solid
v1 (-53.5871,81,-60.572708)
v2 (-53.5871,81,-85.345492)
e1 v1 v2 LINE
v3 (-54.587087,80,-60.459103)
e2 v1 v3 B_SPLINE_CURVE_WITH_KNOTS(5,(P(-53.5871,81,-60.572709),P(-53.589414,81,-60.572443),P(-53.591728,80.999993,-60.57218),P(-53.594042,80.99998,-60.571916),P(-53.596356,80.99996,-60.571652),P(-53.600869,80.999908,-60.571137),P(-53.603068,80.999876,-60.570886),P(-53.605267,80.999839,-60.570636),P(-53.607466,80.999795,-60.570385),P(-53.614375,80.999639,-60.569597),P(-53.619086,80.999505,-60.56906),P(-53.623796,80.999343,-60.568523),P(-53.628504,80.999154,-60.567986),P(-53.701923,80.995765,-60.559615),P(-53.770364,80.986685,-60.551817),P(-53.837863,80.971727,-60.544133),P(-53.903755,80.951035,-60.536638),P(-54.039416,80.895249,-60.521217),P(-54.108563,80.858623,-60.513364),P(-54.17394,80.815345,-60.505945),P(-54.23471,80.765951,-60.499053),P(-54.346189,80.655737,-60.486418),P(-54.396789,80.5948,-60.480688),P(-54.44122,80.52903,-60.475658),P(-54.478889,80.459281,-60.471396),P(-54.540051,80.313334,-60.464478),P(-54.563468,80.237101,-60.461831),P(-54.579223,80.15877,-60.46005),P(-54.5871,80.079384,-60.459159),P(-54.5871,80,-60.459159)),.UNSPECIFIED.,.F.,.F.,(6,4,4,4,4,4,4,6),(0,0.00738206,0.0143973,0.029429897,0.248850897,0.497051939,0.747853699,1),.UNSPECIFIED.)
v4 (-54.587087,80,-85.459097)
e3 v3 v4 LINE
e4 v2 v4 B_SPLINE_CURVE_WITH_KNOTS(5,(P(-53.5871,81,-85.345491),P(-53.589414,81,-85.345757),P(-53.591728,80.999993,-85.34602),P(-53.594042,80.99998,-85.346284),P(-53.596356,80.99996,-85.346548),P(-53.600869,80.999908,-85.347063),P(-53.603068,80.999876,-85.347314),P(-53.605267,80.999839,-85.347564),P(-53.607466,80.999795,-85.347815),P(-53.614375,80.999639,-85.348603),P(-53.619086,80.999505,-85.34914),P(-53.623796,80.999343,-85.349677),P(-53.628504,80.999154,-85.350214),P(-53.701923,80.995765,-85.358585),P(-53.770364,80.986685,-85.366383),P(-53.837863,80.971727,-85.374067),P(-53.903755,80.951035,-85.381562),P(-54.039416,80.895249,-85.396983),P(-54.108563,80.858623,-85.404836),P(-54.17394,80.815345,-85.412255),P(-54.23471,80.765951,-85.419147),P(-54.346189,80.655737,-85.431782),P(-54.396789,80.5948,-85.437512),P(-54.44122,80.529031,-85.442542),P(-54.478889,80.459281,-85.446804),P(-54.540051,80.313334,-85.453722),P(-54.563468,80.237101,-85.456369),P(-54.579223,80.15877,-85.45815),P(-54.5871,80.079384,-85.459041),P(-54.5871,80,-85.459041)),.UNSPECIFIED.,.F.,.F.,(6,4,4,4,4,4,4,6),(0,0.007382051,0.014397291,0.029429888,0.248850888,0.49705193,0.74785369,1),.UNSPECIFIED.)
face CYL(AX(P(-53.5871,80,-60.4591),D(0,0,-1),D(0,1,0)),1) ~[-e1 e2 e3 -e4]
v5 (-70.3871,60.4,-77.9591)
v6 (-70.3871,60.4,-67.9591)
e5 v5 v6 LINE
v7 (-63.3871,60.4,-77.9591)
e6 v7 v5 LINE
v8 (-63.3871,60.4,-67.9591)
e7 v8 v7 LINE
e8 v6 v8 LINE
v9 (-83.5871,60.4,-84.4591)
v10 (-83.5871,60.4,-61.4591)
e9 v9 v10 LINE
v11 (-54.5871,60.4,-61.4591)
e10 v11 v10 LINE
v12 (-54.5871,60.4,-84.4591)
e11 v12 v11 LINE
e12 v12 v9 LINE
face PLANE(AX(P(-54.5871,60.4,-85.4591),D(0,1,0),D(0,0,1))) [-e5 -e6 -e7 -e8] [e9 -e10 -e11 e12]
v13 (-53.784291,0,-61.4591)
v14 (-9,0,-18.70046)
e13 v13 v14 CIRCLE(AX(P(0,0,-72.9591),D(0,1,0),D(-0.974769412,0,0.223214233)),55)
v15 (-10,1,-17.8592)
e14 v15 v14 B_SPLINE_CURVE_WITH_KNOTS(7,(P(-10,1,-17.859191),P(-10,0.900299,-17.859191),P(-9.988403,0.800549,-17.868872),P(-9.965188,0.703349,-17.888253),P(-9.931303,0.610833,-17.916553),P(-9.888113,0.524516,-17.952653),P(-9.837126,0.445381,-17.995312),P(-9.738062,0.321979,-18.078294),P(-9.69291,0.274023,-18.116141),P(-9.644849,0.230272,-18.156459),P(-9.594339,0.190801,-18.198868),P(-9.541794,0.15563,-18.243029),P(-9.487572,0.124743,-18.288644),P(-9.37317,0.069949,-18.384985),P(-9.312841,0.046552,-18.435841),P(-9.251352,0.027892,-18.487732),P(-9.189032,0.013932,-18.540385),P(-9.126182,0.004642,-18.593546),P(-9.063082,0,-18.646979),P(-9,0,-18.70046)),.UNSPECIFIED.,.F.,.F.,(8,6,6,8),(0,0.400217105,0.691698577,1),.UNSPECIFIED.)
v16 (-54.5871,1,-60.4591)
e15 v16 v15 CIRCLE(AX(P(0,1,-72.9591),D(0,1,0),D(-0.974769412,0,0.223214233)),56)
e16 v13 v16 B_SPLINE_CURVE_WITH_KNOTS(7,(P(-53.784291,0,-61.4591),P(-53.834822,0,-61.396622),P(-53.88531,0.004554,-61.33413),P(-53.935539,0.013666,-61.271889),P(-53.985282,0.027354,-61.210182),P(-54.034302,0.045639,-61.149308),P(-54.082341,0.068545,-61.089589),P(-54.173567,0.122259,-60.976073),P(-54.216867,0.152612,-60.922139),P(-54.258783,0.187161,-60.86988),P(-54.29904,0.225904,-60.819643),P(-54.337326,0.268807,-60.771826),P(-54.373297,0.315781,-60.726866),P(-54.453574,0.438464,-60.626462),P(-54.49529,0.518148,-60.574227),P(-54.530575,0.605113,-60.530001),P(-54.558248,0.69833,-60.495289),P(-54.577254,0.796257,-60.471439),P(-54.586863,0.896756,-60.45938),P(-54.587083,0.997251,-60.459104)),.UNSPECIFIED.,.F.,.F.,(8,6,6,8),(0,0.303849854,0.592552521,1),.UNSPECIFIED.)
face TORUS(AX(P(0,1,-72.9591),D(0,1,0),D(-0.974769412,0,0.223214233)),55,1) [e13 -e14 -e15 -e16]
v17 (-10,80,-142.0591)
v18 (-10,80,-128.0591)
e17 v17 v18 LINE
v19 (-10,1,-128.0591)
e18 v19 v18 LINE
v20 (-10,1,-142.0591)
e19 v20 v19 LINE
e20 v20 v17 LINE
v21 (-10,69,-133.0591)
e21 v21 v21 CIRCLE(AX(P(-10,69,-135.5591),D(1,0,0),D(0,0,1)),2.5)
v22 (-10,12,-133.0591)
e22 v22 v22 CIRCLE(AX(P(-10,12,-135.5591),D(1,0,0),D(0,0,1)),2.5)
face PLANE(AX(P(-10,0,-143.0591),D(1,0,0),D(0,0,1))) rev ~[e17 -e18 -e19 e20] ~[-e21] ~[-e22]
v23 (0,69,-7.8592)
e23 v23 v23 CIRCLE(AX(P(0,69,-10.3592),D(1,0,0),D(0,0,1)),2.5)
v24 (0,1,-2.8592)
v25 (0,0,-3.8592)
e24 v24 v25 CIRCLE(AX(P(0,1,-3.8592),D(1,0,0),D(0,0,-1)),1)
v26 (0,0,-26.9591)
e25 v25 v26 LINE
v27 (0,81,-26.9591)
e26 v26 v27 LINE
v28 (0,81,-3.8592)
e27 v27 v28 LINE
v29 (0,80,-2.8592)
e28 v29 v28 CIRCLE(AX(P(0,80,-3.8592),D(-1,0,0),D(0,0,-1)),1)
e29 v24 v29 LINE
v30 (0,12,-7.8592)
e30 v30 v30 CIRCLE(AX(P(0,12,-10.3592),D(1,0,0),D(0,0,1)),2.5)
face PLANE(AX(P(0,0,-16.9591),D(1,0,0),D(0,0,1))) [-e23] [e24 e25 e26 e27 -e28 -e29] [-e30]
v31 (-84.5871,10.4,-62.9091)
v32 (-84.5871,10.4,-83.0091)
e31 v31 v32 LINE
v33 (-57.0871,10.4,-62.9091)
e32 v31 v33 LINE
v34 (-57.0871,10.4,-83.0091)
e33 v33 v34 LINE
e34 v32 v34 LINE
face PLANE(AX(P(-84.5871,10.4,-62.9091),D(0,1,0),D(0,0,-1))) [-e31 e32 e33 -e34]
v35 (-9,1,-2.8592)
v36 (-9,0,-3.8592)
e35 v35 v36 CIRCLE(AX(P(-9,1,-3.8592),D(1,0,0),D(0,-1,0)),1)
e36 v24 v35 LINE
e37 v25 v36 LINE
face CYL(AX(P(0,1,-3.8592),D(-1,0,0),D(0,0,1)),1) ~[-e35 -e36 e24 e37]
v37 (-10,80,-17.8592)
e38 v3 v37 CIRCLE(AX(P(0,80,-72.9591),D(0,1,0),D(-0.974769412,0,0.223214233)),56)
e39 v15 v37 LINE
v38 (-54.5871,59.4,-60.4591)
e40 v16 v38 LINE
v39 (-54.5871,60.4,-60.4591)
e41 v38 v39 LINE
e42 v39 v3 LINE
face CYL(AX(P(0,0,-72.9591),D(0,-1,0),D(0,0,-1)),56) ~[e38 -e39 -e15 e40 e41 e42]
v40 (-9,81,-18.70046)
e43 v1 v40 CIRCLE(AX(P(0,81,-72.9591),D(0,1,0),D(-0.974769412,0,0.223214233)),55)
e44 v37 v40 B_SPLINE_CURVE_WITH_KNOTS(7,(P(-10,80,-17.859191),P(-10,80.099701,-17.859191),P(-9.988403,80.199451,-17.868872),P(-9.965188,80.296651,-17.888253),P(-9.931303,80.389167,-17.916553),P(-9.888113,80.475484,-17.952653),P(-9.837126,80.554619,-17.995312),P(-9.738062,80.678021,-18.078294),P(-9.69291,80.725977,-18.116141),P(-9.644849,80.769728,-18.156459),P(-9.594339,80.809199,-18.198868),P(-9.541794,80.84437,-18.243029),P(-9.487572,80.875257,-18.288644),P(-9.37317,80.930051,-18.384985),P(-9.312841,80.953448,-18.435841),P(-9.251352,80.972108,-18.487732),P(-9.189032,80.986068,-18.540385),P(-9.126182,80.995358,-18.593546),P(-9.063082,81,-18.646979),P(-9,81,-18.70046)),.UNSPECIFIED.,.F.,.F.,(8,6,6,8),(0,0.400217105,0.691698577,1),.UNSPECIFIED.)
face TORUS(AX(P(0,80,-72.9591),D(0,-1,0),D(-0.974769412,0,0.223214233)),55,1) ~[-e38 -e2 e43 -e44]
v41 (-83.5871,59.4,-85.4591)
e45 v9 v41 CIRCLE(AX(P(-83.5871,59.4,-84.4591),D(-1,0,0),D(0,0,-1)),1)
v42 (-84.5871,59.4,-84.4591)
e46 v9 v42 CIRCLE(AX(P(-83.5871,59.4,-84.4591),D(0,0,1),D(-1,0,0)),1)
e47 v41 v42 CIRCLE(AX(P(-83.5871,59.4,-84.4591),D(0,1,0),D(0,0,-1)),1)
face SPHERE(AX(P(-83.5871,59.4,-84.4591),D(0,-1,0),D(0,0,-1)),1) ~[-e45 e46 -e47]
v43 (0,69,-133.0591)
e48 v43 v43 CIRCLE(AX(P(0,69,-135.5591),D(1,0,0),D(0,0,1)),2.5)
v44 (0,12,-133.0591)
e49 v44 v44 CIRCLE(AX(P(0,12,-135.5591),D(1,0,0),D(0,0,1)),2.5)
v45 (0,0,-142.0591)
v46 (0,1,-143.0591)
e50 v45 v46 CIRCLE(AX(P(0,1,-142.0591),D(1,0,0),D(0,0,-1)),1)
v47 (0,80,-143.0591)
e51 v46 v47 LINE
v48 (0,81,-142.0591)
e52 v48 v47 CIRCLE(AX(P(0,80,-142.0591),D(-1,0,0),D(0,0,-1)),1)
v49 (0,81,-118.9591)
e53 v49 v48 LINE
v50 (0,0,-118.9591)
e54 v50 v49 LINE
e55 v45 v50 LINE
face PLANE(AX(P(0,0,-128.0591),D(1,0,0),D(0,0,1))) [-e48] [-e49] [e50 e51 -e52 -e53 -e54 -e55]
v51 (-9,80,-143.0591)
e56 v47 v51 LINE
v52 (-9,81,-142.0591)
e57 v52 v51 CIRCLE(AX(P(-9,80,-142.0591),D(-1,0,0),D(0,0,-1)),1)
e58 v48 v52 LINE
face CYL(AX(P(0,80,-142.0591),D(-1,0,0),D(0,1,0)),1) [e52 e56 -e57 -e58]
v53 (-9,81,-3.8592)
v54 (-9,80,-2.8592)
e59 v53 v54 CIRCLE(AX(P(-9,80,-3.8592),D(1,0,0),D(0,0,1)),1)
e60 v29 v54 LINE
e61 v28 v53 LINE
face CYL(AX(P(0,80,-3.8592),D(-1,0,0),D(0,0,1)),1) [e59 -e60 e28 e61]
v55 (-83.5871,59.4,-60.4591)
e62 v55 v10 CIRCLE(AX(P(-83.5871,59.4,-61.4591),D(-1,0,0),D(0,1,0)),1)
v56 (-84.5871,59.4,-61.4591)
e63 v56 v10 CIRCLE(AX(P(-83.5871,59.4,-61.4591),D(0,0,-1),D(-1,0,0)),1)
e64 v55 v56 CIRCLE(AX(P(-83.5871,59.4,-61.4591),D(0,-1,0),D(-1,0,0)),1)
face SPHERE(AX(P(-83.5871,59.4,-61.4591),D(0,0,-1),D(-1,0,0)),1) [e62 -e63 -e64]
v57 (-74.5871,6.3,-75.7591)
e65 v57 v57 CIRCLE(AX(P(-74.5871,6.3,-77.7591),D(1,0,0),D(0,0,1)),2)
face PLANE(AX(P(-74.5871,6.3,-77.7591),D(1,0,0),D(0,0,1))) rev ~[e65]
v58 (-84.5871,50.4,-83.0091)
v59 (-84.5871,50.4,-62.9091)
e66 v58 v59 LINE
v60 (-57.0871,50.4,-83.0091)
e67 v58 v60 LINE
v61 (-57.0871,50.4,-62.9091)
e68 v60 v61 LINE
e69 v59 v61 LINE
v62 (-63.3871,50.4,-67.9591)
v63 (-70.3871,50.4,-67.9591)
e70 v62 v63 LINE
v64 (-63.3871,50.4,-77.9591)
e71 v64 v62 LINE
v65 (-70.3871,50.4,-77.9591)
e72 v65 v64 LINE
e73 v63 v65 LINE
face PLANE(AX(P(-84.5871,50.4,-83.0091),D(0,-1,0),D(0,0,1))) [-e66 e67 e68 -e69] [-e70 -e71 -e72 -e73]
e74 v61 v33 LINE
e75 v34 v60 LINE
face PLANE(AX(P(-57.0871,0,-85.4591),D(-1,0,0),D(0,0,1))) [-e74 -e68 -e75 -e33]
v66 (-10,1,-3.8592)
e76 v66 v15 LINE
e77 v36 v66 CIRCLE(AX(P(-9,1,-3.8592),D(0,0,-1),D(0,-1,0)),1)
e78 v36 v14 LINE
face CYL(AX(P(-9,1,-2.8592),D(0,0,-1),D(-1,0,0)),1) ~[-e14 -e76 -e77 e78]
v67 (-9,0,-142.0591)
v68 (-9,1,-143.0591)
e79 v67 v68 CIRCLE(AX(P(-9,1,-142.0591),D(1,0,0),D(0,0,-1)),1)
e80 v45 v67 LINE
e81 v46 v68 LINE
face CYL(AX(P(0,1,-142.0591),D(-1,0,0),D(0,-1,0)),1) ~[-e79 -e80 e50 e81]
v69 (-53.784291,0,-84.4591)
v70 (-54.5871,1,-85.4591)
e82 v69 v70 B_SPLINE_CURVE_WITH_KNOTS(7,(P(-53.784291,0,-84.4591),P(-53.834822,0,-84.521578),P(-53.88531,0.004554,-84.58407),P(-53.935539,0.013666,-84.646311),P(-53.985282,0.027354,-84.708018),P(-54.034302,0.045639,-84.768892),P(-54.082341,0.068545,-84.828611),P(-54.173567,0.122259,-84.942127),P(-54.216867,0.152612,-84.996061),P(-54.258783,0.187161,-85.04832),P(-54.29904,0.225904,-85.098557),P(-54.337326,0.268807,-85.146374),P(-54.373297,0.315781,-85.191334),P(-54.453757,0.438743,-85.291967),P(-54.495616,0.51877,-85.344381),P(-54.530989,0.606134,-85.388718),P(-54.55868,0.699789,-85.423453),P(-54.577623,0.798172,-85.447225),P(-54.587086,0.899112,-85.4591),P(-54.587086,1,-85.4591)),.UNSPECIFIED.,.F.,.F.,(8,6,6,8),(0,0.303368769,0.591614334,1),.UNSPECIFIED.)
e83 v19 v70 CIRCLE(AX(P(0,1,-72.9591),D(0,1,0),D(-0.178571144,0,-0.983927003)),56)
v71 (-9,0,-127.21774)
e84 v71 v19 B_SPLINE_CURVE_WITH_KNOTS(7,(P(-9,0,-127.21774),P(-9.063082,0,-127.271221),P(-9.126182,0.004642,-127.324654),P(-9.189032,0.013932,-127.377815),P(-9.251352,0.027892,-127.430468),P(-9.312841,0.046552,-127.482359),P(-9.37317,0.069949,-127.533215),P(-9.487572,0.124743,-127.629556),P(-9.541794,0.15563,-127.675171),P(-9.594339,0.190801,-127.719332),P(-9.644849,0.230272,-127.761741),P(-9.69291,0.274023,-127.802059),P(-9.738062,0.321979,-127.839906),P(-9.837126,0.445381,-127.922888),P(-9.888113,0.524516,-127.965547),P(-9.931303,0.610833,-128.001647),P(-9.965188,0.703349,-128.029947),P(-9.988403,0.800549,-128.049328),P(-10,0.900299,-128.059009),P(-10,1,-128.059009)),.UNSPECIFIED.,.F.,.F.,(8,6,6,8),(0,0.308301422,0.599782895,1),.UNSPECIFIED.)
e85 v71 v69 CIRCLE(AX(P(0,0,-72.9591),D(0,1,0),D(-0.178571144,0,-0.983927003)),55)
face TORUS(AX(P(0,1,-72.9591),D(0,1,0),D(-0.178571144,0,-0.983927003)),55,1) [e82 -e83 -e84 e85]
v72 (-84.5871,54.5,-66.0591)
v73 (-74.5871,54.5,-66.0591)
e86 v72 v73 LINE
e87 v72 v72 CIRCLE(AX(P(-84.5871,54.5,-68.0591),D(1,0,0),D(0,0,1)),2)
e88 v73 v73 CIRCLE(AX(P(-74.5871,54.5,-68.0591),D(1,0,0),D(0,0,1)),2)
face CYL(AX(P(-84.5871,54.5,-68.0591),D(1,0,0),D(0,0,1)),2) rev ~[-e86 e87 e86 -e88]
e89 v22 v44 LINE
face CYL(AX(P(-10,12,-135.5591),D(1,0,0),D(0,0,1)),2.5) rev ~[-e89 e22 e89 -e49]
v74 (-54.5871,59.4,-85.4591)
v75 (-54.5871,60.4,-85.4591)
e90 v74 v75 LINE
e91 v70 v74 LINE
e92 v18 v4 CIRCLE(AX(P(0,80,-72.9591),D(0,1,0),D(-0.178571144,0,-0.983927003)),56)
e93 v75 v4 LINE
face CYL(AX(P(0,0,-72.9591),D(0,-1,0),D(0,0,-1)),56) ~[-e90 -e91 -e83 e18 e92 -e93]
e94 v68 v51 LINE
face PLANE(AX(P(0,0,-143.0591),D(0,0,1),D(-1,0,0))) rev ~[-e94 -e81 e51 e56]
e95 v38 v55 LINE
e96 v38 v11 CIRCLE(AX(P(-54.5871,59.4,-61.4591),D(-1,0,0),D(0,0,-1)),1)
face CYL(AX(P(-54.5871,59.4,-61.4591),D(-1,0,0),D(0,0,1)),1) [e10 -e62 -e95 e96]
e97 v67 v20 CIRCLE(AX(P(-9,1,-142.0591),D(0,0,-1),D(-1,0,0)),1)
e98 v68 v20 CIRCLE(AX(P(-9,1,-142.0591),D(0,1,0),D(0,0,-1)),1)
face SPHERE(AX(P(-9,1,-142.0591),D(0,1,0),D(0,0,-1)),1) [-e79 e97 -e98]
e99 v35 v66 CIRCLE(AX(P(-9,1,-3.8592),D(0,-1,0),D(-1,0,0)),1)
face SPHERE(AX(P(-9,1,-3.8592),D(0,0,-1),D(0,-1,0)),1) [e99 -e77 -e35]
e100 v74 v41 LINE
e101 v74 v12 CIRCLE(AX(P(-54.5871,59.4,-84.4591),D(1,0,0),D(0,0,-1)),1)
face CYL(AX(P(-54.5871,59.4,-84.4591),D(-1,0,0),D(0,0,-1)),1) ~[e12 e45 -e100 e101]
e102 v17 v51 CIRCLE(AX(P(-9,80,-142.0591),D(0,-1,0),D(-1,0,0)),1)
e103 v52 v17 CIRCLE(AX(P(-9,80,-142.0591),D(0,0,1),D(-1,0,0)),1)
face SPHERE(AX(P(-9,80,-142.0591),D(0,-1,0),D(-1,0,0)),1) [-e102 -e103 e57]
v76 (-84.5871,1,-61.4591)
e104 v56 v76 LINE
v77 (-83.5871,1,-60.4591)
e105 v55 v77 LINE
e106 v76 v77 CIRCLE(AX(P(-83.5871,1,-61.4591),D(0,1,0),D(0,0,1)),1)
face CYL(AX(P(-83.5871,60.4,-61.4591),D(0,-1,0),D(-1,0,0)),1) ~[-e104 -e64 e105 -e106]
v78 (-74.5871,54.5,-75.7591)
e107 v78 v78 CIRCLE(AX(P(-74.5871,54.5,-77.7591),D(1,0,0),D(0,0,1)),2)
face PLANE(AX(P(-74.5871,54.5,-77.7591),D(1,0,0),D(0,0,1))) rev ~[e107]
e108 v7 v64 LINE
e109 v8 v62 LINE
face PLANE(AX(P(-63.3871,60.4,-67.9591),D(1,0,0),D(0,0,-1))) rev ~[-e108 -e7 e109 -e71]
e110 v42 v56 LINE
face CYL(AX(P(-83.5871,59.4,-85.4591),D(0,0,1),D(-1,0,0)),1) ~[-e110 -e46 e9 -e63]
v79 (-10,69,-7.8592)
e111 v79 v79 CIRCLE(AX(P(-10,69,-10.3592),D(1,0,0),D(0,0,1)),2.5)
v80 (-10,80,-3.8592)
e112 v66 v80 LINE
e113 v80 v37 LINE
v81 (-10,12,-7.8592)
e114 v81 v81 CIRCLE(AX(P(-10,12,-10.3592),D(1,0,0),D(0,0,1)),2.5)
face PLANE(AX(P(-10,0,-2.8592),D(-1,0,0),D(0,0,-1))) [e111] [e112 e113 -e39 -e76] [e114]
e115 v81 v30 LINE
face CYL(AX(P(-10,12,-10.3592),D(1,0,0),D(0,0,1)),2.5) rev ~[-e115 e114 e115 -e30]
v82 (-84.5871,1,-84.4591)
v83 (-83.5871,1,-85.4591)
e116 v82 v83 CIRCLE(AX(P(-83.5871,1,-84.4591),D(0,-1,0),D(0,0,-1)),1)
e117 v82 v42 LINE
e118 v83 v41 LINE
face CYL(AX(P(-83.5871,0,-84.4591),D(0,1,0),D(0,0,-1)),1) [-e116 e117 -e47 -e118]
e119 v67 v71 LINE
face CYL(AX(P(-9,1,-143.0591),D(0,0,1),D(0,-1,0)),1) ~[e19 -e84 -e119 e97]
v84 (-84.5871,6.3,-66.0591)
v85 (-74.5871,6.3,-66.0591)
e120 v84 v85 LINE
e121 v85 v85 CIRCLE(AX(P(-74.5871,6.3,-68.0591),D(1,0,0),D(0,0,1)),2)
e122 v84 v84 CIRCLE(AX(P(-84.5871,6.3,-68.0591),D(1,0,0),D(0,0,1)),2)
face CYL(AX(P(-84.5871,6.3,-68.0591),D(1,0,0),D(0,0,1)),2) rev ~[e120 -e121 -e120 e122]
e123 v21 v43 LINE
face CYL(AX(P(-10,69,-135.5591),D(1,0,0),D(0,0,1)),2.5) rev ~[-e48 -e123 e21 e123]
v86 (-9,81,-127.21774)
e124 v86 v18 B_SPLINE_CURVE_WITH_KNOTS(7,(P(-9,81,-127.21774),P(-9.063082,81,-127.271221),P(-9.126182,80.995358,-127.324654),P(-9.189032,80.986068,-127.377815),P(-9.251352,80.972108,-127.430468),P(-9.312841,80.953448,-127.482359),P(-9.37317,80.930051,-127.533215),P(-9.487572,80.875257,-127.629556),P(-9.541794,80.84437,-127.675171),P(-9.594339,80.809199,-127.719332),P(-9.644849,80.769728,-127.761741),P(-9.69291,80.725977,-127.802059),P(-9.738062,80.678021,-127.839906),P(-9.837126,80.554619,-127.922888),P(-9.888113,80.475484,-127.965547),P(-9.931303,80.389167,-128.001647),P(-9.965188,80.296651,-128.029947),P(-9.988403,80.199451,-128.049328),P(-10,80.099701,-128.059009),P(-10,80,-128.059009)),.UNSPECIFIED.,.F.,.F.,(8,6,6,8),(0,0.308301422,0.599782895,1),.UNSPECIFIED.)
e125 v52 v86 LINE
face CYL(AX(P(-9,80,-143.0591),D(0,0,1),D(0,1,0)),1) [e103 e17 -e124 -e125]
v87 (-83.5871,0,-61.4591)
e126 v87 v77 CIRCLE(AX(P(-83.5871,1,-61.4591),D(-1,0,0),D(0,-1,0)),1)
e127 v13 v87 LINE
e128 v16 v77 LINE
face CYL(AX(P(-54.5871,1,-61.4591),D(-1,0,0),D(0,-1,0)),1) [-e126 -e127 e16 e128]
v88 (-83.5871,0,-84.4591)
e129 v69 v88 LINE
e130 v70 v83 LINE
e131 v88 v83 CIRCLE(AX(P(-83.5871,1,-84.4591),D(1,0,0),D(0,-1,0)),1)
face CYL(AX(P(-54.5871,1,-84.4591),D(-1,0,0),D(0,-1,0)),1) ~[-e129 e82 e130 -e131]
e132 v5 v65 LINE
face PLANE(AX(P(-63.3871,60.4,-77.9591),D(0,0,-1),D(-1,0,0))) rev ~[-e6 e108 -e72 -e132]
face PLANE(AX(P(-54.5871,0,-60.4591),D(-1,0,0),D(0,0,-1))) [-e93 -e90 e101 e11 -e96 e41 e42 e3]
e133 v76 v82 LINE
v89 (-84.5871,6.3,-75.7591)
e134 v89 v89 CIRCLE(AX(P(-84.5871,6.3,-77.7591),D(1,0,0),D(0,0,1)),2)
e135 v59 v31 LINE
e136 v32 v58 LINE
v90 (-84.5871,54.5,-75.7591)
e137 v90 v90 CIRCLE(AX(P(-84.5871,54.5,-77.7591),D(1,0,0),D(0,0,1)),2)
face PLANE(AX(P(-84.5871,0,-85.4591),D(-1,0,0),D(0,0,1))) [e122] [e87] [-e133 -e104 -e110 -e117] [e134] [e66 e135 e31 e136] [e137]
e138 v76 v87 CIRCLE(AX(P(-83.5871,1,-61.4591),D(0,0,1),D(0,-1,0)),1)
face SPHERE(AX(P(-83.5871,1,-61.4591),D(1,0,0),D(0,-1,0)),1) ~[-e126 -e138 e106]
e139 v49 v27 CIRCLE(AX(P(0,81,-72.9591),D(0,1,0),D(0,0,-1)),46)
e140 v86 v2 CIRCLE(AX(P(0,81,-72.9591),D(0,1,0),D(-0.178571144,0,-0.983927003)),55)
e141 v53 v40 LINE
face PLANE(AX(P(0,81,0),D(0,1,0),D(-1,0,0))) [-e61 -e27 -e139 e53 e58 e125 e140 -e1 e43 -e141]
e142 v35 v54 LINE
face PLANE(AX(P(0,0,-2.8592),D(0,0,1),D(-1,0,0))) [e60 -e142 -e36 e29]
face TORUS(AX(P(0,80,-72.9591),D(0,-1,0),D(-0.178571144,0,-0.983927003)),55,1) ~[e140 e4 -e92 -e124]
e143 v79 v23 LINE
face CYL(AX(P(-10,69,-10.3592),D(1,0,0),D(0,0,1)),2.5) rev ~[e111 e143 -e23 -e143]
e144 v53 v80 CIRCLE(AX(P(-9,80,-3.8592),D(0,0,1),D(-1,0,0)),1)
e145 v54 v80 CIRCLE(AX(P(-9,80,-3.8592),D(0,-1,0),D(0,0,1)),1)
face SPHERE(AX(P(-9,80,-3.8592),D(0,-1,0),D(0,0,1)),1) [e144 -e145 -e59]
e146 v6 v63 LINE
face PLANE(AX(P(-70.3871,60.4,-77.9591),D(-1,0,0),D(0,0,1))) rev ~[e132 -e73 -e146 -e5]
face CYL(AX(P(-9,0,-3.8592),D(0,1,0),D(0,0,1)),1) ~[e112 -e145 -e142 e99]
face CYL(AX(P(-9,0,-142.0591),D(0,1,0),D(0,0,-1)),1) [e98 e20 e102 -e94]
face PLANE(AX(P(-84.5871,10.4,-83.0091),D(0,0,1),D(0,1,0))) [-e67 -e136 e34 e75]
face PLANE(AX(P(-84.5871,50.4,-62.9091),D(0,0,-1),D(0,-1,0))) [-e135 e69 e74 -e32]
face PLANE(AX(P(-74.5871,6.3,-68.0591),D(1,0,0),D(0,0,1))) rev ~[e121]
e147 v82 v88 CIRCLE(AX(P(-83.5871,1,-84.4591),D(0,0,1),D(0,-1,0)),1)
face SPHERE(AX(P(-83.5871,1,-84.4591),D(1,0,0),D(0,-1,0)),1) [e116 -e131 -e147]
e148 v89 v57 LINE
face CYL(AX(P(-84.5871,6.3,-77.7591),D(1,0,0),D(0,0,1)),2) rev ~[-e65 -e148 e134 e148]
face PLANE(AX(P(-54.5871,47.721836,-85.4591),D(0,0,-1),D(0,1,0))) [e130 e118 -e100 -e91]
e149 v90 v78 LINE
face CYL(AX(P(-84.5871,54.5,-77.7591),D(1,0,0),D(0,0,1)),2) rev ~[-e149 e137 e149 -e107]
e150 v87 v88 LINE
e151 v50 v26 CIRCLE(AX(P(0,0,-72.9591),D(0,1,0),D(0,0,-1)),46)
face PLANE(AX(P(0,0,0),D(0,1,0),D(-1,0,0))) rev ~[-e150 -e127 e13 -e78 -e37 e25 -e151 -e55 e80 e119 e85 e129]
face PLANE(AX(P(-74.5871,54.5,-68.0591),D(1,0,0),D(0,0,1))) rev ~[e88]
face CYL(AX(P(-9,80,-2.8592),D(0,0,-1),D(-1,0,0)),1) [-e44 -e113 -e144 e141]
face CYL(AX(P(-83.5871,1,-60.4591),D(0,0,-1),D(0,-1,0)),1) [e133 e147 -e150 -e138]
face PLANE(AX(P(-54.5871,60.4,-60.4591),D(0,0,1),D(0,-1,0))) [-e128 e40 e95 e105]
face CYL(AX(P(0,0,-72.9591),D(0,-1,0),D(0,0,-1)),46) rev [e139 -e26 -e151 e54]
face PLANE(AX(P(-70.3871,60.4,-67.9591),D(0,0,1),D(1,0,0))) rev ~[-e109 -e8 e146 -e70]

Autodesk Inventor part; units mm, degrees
ref_plane "YZ Plane" through (0, 0, 0) normal (1, 0, 0) x (0, 1, 0)
ref_plane "XZ Plane" through (0, 0, 0) normal (0, 1, 0) x (-1, 0, 0)
ref_plane "XY Plane" through (0, 0, 0) normal (0, 0, 1) x (1, 0, 0)
sketch "スケッチ1" plane through (0, 0, 0) normal (0, 1, 0) x (-1, 0, 0)
  line L0 (0, 0) -> (70, 0)
  line L1 (70, 0) -> (70, -170)
  line L2 (70, -170) -> (0, -170)
  line L3 (0, -170) -> (0, 0)
  arc A0 (0, -118.9591) -> (0, -26.9591) centre (0, -72.9591) ccw
  arc A1 (0, -128.9591) -> (0, -16.9591) centre (0, -72.9591) ccw
  line L4 (10, -17.8592) -> (0, -17.8592)
  line L5 (0, -17.8592) -> (0, -2.8592)
  line L6 (0, -2.8592) -> (10, -2.8592)
  line L7 (10, -2.8592) -> (10, -17.8592)
  line L8 (10, -128.0591) -> (0, -128.0591)
  line L9 (0, -128.0591) -> (0, -143.0591)
  line L10 (0, -143.0591) -> (10, -143.0591)
  line L11 (10, -143.0591) -> (10, -128.0591)
  line L12 (54.5871, -60.4591) -> (54.5871, -85.4591)
  point P0 (54.5871, -72.9591)
  point P1 (46, -72.9591)
  dimension "d8" = 70
  dimension "d9" = 170
  dimension "d10" = 46
  dimension "d11" = 56
  dimension "d12" = 10
  dimension "d13" = 10
  dimension "d14" = 15
  dimension "d15" = 15
  dimension "d17" = 25
extrude "押し出し1" add sketch "スケッチ1" along normal blind 81 contours L6 L7 A1 L3 | A1 L4 L3 | L4 A1 L12 L8 L3 A0 | L3 A1 L11 L10 | L3 L8 A1
ref_plane "作業平面1" through (-54.5871, 0, -85.4591) normal (-1, 0, 0) x (0, 0, 1)
sketch "スケッチ2" plane through (-54.5871, 0, -85.4591) normal (-1, 0, 0) x (0, 0, 1)
  line L0 (-33.5, 81) -> (58.5, 81) projected
  line L1 (0, 60.4) -> (25, 60.4)
  line L2 (25, 60.4) -> (25, 0)
  line L3 (25, 0) -> (0, 0)
  line L4 (0, 0) -> (0, 60.4)
  line L5 (0, 81) -> (25, 81) projected
  line L6 (0, 0) -> (0, 81) projected
  line L7 (0, 0) -> (25, 0) projected
  line L8 (-57.5999, 0) -> (-57.5999, 81) projected
  line L9 (82.5999, 0) -> (82.5999, 81) projected
  line L10 (-57.5999, 81) -> (82.5999, 0)
  line L11 (-57.5999, 0) -> (-42.5999, 0) projected
  line L12 (-57.5999, 0) -> (82.5999, 81)
  line L13 (12.5, 40.5) -> (12.5, 0) construction
  point P0 (85.4591, 0)
  point P1 (12.5, 81)
  point P2 (12.5, 81)
  point P3 (0, 40.5)
  dimension "d21" = 25
  dimension "d22" = 60.4
  dimension "d50" = 20.6
  dimension "d92" = 40.5
  dimension "d93" = 40.5
  dimension "d96" = 12.5
extrude "押し出し2" add sketch "スケッチ2" along normal blind 30 contours L1 L2 L12 L10 L4 | L10 L12 L4 | L2 L10 L12 | L12 L10 L2 L3 L4
ref_plane "作業平面3" through (-84.5871, 0, -85.4591) normal (-1, 0, 0) x (0, 0, 1)
sketch "スケッチ4" plane through (-84.5871, 0, -85.4591) normal (-1, 0, 0) x (0, 0, 1)
  line L0 (2.45, 50.4) -> (22.55, 50.4)
  line L1 (22.55, 50.4) -> (22.55, 10.4)
  line L2 (22.55, 10.4) -> (2.45, 10.4)
  line L3 (2.45, 10.4) -> (2.45, 50.4)
  line L4 (0, 60.4) -> (25, 60.4) projected
  line L5 (0, 0) -> (0, 60.4) projected
  line L6 (0, 60.4) -> (0, 0) projected
  line L7 (0, 0) -> (25, 0) projected
  line L8 (7.6, 54.5) -> (17.3, 54.5)
  line L9 (7.7, 6.3) -> (17.4, 6.3)
  line L10 (25, 60.4) -> (0, 60.4) projected
  line L11 (0, 81) -> (25, 81) projected
  line L12 (25, 0) -> (25, 60.4) projected
  point P0 (85.4591, 0)
  point P1 (12.5, 50.4)
  point P2 (12.5, 60.4)
  point P3 (2.45, 30.4)
  point P4 (0, 30.2)
  point P5 (0, 0.35)
  point P6 (25, 60)
  point P7 (12.55, 6.3)
  point P8 (12.45, 54.5)
  point P9 (12.5, 60.4)
  point P10 (12.5, 10.4)
  point P11 (12.55, 40.5)
  point P12 (12.5, 81)
  dimension "d28" = 20.1
  dimension "d29" = 40
  dimension "d52" = 10.4
  dimension "d53" = 2.45
  dimension "d54" = 4.1
  dimension "d55" = 4.1
  dimension "d56" = 4.1
  dimension "d57" = 4.1
  dimension "d58" = 9.7
  dimension "d59" = 9.7
  dimension "d100" = 40.5
  dimension "d101" = 9.9
  dimension "d102" = 40.5
  dimension "d107" = 2.45
extrude "押し出し3" cut sketch "スケッチ4" against normal blind 27.5 contours L0 L1 L2 L3
ref_plane "作業平面4" through (-10, 0, -143.0591) normal (-1, 0, 0) x (0, 0, 1)
sketch "スケッチ5" plane through (-10, 0, -143.0591) normal (-1, 0, 0) x (0, 0, 1)
  line L0 (0, 81) -> (15, 81) projected
  line L1 (0, 0) -> (15, 0) projected
  line L2 (125.1998, 81) -> (140.1998, 81) projected
  line L3 (125.1998, 0) -> (140.1998, 0) projected
  point P0 (143.0591, 0)
  point P1 (7.5, 69)
  point P2 (7.5, 12)
  point P3 (132.6998, 69)
  point P4 (132.6998, 12)
  point P5 (7.5, 81)
  point P6 (7.5, 0)
  point P7 (132.6998, 81)
  point P8 (132.6998, 0)
  dimension "d35" = 0
  dimension "d36" = 0
  dimension "d37" = 0
  dimension "d38" = 0
  dimension "d39" = 12
  dimension "d40" = 12
  dimension "d41" = 12
  dimension "d42" = 12
hole "穴1" at (-10, 69, -135.5591) at (-10, 12, -135.5591) at (-10, 69, -10.3592) at (-10, 12, -10.3592) direction (1, 0, 0) diameter 5 end through all
sketch "スケッチ6" plane through (-84.5871, 0, -85.4591) normal (-1, 0, 0) x (0, 0, 1)
  line L0 (7.7, 6.3) -> (17.4, 6.3)
  line L1 (7.7, 54.5) -> (17.4, 54.5)
  line L2 (22.55, 10.4) -> (2.45, 10.4) projected
  line L3 (2.45, 50.4) -> (22.55, 50.4) projected
  point P0 (85.4591, 0)
  point P1 (12.55, 6.3)
  point P2 (12.55, 54.5)
  point P3 (12.5, 10.4)
  point P4 (12.5, 50.4)
  dimension "d63" = 9.7
  dimension "d64" = 9.7
  dimension "d65" = 4.1
  dimension "d66" = 4.1
hole "穴2" at (-84.5871, 54.5, -77.7591) at (-84.5871, 54.5, -68.0591) at (-84.5871, 6.3, -77.7591) at (-84.5871, 6.3, -68.0591) direction (1, 0, 0) diameter 4 depth 10
ref_plane "作業平面5" through (-84.5871, 60.4, -85.4591) normal (0, 1, 0) x (1, 0, 0)
sketch "スケッチ8" plane through (-84.5871, 60.4, -85.4591) normal (0, 1, 0) x (1, 0, 0)
  line L0 (14.2, -17.5) -> (21.2, -17.5)
  line L1 (21.2, -17.5) -> (21.2, -7.5)
  line L2 (21.2, -7.5) -> (14.2, -7.5)
  line L3 (14.2, -7.5) -> (14.2, -17.5)
  line L4 (0, -114.071) -> (0, 86.2117) projected
  line L5 (30, 0) -> (30, -25) projected
  point P0 (84.5871, -85.4591)
  point P1 (14.2, -12.5)
  point P2 (30, -12.5)
  dimension "d87" = 7
  dimension "d88" = 10
  dimension "d89" = 14.2
extrude "押し出し5" cut sketch "スケッチ8" against normal blind 12
fillet "フィレット2" radius 1 23 edges at (-10, 40.5, -143.0591) (-10, 81, -135.5591) (-5, 81, -143.0591) (-5, 0, -143.0591) (-10, 0, -135.5591) (-10, 0, -10.3592) (-5, 0, -2.8592) (-69.5871, 0, -85.4591) (-69.5871, 0, -60.4591) (-84.5871, 0, -72.9591) (-84.5871, 30.2, -85.4591) (-69.5871, 60.4, -85.4591) (-84.5871, 60.4, -72.9591) (-84.5871, 30.2, -60.4591) (-69.5871, 60.4, -60.4591) (-38.6854, 0, -32.4692) (-38.6854, 0, -113.4491) (-10, 40.5, -2.8592) (-5, 81, -2.8592) (-10, 81, -10.3592) (-38.6854, 81, -32.4692) (-38.6854, 81, -113.4491) (-54.5871, 81, -72.9591)
sketch "スケッチ9" plane through (-84.5871, 0, -85.4591) normal (-1, 0, 0) x (0, 0, 1)
  line L0 (2.45, 50.4) -> (22.55, 50.4) projected
  line L1 (2.45, 50.4) -> (22.55, 50.4) projected
  line L2 (-57.5999, 80) -> (-57.5999, 1) projected
  line L3 (82.5999, 1) -> (82.5999, 80) projected
  line L4 (0, 59.4) -> (0, 80) projected
  line L5 (25, 59.4) -> (25, 80) projected
  point P0 (85.4591, 0)
  point P1 (12.5, 50.4)
  point P2 (12.5, 50.4)
  point P3 (12.5, 50.4)
  dimension "d103" = 70.0999
  dimension "d104" = 70.0999
  dimension "d105" = 57.5999
  dimension "d106" = 57.5999
properties part number "motor_mount1_3D プリント"
